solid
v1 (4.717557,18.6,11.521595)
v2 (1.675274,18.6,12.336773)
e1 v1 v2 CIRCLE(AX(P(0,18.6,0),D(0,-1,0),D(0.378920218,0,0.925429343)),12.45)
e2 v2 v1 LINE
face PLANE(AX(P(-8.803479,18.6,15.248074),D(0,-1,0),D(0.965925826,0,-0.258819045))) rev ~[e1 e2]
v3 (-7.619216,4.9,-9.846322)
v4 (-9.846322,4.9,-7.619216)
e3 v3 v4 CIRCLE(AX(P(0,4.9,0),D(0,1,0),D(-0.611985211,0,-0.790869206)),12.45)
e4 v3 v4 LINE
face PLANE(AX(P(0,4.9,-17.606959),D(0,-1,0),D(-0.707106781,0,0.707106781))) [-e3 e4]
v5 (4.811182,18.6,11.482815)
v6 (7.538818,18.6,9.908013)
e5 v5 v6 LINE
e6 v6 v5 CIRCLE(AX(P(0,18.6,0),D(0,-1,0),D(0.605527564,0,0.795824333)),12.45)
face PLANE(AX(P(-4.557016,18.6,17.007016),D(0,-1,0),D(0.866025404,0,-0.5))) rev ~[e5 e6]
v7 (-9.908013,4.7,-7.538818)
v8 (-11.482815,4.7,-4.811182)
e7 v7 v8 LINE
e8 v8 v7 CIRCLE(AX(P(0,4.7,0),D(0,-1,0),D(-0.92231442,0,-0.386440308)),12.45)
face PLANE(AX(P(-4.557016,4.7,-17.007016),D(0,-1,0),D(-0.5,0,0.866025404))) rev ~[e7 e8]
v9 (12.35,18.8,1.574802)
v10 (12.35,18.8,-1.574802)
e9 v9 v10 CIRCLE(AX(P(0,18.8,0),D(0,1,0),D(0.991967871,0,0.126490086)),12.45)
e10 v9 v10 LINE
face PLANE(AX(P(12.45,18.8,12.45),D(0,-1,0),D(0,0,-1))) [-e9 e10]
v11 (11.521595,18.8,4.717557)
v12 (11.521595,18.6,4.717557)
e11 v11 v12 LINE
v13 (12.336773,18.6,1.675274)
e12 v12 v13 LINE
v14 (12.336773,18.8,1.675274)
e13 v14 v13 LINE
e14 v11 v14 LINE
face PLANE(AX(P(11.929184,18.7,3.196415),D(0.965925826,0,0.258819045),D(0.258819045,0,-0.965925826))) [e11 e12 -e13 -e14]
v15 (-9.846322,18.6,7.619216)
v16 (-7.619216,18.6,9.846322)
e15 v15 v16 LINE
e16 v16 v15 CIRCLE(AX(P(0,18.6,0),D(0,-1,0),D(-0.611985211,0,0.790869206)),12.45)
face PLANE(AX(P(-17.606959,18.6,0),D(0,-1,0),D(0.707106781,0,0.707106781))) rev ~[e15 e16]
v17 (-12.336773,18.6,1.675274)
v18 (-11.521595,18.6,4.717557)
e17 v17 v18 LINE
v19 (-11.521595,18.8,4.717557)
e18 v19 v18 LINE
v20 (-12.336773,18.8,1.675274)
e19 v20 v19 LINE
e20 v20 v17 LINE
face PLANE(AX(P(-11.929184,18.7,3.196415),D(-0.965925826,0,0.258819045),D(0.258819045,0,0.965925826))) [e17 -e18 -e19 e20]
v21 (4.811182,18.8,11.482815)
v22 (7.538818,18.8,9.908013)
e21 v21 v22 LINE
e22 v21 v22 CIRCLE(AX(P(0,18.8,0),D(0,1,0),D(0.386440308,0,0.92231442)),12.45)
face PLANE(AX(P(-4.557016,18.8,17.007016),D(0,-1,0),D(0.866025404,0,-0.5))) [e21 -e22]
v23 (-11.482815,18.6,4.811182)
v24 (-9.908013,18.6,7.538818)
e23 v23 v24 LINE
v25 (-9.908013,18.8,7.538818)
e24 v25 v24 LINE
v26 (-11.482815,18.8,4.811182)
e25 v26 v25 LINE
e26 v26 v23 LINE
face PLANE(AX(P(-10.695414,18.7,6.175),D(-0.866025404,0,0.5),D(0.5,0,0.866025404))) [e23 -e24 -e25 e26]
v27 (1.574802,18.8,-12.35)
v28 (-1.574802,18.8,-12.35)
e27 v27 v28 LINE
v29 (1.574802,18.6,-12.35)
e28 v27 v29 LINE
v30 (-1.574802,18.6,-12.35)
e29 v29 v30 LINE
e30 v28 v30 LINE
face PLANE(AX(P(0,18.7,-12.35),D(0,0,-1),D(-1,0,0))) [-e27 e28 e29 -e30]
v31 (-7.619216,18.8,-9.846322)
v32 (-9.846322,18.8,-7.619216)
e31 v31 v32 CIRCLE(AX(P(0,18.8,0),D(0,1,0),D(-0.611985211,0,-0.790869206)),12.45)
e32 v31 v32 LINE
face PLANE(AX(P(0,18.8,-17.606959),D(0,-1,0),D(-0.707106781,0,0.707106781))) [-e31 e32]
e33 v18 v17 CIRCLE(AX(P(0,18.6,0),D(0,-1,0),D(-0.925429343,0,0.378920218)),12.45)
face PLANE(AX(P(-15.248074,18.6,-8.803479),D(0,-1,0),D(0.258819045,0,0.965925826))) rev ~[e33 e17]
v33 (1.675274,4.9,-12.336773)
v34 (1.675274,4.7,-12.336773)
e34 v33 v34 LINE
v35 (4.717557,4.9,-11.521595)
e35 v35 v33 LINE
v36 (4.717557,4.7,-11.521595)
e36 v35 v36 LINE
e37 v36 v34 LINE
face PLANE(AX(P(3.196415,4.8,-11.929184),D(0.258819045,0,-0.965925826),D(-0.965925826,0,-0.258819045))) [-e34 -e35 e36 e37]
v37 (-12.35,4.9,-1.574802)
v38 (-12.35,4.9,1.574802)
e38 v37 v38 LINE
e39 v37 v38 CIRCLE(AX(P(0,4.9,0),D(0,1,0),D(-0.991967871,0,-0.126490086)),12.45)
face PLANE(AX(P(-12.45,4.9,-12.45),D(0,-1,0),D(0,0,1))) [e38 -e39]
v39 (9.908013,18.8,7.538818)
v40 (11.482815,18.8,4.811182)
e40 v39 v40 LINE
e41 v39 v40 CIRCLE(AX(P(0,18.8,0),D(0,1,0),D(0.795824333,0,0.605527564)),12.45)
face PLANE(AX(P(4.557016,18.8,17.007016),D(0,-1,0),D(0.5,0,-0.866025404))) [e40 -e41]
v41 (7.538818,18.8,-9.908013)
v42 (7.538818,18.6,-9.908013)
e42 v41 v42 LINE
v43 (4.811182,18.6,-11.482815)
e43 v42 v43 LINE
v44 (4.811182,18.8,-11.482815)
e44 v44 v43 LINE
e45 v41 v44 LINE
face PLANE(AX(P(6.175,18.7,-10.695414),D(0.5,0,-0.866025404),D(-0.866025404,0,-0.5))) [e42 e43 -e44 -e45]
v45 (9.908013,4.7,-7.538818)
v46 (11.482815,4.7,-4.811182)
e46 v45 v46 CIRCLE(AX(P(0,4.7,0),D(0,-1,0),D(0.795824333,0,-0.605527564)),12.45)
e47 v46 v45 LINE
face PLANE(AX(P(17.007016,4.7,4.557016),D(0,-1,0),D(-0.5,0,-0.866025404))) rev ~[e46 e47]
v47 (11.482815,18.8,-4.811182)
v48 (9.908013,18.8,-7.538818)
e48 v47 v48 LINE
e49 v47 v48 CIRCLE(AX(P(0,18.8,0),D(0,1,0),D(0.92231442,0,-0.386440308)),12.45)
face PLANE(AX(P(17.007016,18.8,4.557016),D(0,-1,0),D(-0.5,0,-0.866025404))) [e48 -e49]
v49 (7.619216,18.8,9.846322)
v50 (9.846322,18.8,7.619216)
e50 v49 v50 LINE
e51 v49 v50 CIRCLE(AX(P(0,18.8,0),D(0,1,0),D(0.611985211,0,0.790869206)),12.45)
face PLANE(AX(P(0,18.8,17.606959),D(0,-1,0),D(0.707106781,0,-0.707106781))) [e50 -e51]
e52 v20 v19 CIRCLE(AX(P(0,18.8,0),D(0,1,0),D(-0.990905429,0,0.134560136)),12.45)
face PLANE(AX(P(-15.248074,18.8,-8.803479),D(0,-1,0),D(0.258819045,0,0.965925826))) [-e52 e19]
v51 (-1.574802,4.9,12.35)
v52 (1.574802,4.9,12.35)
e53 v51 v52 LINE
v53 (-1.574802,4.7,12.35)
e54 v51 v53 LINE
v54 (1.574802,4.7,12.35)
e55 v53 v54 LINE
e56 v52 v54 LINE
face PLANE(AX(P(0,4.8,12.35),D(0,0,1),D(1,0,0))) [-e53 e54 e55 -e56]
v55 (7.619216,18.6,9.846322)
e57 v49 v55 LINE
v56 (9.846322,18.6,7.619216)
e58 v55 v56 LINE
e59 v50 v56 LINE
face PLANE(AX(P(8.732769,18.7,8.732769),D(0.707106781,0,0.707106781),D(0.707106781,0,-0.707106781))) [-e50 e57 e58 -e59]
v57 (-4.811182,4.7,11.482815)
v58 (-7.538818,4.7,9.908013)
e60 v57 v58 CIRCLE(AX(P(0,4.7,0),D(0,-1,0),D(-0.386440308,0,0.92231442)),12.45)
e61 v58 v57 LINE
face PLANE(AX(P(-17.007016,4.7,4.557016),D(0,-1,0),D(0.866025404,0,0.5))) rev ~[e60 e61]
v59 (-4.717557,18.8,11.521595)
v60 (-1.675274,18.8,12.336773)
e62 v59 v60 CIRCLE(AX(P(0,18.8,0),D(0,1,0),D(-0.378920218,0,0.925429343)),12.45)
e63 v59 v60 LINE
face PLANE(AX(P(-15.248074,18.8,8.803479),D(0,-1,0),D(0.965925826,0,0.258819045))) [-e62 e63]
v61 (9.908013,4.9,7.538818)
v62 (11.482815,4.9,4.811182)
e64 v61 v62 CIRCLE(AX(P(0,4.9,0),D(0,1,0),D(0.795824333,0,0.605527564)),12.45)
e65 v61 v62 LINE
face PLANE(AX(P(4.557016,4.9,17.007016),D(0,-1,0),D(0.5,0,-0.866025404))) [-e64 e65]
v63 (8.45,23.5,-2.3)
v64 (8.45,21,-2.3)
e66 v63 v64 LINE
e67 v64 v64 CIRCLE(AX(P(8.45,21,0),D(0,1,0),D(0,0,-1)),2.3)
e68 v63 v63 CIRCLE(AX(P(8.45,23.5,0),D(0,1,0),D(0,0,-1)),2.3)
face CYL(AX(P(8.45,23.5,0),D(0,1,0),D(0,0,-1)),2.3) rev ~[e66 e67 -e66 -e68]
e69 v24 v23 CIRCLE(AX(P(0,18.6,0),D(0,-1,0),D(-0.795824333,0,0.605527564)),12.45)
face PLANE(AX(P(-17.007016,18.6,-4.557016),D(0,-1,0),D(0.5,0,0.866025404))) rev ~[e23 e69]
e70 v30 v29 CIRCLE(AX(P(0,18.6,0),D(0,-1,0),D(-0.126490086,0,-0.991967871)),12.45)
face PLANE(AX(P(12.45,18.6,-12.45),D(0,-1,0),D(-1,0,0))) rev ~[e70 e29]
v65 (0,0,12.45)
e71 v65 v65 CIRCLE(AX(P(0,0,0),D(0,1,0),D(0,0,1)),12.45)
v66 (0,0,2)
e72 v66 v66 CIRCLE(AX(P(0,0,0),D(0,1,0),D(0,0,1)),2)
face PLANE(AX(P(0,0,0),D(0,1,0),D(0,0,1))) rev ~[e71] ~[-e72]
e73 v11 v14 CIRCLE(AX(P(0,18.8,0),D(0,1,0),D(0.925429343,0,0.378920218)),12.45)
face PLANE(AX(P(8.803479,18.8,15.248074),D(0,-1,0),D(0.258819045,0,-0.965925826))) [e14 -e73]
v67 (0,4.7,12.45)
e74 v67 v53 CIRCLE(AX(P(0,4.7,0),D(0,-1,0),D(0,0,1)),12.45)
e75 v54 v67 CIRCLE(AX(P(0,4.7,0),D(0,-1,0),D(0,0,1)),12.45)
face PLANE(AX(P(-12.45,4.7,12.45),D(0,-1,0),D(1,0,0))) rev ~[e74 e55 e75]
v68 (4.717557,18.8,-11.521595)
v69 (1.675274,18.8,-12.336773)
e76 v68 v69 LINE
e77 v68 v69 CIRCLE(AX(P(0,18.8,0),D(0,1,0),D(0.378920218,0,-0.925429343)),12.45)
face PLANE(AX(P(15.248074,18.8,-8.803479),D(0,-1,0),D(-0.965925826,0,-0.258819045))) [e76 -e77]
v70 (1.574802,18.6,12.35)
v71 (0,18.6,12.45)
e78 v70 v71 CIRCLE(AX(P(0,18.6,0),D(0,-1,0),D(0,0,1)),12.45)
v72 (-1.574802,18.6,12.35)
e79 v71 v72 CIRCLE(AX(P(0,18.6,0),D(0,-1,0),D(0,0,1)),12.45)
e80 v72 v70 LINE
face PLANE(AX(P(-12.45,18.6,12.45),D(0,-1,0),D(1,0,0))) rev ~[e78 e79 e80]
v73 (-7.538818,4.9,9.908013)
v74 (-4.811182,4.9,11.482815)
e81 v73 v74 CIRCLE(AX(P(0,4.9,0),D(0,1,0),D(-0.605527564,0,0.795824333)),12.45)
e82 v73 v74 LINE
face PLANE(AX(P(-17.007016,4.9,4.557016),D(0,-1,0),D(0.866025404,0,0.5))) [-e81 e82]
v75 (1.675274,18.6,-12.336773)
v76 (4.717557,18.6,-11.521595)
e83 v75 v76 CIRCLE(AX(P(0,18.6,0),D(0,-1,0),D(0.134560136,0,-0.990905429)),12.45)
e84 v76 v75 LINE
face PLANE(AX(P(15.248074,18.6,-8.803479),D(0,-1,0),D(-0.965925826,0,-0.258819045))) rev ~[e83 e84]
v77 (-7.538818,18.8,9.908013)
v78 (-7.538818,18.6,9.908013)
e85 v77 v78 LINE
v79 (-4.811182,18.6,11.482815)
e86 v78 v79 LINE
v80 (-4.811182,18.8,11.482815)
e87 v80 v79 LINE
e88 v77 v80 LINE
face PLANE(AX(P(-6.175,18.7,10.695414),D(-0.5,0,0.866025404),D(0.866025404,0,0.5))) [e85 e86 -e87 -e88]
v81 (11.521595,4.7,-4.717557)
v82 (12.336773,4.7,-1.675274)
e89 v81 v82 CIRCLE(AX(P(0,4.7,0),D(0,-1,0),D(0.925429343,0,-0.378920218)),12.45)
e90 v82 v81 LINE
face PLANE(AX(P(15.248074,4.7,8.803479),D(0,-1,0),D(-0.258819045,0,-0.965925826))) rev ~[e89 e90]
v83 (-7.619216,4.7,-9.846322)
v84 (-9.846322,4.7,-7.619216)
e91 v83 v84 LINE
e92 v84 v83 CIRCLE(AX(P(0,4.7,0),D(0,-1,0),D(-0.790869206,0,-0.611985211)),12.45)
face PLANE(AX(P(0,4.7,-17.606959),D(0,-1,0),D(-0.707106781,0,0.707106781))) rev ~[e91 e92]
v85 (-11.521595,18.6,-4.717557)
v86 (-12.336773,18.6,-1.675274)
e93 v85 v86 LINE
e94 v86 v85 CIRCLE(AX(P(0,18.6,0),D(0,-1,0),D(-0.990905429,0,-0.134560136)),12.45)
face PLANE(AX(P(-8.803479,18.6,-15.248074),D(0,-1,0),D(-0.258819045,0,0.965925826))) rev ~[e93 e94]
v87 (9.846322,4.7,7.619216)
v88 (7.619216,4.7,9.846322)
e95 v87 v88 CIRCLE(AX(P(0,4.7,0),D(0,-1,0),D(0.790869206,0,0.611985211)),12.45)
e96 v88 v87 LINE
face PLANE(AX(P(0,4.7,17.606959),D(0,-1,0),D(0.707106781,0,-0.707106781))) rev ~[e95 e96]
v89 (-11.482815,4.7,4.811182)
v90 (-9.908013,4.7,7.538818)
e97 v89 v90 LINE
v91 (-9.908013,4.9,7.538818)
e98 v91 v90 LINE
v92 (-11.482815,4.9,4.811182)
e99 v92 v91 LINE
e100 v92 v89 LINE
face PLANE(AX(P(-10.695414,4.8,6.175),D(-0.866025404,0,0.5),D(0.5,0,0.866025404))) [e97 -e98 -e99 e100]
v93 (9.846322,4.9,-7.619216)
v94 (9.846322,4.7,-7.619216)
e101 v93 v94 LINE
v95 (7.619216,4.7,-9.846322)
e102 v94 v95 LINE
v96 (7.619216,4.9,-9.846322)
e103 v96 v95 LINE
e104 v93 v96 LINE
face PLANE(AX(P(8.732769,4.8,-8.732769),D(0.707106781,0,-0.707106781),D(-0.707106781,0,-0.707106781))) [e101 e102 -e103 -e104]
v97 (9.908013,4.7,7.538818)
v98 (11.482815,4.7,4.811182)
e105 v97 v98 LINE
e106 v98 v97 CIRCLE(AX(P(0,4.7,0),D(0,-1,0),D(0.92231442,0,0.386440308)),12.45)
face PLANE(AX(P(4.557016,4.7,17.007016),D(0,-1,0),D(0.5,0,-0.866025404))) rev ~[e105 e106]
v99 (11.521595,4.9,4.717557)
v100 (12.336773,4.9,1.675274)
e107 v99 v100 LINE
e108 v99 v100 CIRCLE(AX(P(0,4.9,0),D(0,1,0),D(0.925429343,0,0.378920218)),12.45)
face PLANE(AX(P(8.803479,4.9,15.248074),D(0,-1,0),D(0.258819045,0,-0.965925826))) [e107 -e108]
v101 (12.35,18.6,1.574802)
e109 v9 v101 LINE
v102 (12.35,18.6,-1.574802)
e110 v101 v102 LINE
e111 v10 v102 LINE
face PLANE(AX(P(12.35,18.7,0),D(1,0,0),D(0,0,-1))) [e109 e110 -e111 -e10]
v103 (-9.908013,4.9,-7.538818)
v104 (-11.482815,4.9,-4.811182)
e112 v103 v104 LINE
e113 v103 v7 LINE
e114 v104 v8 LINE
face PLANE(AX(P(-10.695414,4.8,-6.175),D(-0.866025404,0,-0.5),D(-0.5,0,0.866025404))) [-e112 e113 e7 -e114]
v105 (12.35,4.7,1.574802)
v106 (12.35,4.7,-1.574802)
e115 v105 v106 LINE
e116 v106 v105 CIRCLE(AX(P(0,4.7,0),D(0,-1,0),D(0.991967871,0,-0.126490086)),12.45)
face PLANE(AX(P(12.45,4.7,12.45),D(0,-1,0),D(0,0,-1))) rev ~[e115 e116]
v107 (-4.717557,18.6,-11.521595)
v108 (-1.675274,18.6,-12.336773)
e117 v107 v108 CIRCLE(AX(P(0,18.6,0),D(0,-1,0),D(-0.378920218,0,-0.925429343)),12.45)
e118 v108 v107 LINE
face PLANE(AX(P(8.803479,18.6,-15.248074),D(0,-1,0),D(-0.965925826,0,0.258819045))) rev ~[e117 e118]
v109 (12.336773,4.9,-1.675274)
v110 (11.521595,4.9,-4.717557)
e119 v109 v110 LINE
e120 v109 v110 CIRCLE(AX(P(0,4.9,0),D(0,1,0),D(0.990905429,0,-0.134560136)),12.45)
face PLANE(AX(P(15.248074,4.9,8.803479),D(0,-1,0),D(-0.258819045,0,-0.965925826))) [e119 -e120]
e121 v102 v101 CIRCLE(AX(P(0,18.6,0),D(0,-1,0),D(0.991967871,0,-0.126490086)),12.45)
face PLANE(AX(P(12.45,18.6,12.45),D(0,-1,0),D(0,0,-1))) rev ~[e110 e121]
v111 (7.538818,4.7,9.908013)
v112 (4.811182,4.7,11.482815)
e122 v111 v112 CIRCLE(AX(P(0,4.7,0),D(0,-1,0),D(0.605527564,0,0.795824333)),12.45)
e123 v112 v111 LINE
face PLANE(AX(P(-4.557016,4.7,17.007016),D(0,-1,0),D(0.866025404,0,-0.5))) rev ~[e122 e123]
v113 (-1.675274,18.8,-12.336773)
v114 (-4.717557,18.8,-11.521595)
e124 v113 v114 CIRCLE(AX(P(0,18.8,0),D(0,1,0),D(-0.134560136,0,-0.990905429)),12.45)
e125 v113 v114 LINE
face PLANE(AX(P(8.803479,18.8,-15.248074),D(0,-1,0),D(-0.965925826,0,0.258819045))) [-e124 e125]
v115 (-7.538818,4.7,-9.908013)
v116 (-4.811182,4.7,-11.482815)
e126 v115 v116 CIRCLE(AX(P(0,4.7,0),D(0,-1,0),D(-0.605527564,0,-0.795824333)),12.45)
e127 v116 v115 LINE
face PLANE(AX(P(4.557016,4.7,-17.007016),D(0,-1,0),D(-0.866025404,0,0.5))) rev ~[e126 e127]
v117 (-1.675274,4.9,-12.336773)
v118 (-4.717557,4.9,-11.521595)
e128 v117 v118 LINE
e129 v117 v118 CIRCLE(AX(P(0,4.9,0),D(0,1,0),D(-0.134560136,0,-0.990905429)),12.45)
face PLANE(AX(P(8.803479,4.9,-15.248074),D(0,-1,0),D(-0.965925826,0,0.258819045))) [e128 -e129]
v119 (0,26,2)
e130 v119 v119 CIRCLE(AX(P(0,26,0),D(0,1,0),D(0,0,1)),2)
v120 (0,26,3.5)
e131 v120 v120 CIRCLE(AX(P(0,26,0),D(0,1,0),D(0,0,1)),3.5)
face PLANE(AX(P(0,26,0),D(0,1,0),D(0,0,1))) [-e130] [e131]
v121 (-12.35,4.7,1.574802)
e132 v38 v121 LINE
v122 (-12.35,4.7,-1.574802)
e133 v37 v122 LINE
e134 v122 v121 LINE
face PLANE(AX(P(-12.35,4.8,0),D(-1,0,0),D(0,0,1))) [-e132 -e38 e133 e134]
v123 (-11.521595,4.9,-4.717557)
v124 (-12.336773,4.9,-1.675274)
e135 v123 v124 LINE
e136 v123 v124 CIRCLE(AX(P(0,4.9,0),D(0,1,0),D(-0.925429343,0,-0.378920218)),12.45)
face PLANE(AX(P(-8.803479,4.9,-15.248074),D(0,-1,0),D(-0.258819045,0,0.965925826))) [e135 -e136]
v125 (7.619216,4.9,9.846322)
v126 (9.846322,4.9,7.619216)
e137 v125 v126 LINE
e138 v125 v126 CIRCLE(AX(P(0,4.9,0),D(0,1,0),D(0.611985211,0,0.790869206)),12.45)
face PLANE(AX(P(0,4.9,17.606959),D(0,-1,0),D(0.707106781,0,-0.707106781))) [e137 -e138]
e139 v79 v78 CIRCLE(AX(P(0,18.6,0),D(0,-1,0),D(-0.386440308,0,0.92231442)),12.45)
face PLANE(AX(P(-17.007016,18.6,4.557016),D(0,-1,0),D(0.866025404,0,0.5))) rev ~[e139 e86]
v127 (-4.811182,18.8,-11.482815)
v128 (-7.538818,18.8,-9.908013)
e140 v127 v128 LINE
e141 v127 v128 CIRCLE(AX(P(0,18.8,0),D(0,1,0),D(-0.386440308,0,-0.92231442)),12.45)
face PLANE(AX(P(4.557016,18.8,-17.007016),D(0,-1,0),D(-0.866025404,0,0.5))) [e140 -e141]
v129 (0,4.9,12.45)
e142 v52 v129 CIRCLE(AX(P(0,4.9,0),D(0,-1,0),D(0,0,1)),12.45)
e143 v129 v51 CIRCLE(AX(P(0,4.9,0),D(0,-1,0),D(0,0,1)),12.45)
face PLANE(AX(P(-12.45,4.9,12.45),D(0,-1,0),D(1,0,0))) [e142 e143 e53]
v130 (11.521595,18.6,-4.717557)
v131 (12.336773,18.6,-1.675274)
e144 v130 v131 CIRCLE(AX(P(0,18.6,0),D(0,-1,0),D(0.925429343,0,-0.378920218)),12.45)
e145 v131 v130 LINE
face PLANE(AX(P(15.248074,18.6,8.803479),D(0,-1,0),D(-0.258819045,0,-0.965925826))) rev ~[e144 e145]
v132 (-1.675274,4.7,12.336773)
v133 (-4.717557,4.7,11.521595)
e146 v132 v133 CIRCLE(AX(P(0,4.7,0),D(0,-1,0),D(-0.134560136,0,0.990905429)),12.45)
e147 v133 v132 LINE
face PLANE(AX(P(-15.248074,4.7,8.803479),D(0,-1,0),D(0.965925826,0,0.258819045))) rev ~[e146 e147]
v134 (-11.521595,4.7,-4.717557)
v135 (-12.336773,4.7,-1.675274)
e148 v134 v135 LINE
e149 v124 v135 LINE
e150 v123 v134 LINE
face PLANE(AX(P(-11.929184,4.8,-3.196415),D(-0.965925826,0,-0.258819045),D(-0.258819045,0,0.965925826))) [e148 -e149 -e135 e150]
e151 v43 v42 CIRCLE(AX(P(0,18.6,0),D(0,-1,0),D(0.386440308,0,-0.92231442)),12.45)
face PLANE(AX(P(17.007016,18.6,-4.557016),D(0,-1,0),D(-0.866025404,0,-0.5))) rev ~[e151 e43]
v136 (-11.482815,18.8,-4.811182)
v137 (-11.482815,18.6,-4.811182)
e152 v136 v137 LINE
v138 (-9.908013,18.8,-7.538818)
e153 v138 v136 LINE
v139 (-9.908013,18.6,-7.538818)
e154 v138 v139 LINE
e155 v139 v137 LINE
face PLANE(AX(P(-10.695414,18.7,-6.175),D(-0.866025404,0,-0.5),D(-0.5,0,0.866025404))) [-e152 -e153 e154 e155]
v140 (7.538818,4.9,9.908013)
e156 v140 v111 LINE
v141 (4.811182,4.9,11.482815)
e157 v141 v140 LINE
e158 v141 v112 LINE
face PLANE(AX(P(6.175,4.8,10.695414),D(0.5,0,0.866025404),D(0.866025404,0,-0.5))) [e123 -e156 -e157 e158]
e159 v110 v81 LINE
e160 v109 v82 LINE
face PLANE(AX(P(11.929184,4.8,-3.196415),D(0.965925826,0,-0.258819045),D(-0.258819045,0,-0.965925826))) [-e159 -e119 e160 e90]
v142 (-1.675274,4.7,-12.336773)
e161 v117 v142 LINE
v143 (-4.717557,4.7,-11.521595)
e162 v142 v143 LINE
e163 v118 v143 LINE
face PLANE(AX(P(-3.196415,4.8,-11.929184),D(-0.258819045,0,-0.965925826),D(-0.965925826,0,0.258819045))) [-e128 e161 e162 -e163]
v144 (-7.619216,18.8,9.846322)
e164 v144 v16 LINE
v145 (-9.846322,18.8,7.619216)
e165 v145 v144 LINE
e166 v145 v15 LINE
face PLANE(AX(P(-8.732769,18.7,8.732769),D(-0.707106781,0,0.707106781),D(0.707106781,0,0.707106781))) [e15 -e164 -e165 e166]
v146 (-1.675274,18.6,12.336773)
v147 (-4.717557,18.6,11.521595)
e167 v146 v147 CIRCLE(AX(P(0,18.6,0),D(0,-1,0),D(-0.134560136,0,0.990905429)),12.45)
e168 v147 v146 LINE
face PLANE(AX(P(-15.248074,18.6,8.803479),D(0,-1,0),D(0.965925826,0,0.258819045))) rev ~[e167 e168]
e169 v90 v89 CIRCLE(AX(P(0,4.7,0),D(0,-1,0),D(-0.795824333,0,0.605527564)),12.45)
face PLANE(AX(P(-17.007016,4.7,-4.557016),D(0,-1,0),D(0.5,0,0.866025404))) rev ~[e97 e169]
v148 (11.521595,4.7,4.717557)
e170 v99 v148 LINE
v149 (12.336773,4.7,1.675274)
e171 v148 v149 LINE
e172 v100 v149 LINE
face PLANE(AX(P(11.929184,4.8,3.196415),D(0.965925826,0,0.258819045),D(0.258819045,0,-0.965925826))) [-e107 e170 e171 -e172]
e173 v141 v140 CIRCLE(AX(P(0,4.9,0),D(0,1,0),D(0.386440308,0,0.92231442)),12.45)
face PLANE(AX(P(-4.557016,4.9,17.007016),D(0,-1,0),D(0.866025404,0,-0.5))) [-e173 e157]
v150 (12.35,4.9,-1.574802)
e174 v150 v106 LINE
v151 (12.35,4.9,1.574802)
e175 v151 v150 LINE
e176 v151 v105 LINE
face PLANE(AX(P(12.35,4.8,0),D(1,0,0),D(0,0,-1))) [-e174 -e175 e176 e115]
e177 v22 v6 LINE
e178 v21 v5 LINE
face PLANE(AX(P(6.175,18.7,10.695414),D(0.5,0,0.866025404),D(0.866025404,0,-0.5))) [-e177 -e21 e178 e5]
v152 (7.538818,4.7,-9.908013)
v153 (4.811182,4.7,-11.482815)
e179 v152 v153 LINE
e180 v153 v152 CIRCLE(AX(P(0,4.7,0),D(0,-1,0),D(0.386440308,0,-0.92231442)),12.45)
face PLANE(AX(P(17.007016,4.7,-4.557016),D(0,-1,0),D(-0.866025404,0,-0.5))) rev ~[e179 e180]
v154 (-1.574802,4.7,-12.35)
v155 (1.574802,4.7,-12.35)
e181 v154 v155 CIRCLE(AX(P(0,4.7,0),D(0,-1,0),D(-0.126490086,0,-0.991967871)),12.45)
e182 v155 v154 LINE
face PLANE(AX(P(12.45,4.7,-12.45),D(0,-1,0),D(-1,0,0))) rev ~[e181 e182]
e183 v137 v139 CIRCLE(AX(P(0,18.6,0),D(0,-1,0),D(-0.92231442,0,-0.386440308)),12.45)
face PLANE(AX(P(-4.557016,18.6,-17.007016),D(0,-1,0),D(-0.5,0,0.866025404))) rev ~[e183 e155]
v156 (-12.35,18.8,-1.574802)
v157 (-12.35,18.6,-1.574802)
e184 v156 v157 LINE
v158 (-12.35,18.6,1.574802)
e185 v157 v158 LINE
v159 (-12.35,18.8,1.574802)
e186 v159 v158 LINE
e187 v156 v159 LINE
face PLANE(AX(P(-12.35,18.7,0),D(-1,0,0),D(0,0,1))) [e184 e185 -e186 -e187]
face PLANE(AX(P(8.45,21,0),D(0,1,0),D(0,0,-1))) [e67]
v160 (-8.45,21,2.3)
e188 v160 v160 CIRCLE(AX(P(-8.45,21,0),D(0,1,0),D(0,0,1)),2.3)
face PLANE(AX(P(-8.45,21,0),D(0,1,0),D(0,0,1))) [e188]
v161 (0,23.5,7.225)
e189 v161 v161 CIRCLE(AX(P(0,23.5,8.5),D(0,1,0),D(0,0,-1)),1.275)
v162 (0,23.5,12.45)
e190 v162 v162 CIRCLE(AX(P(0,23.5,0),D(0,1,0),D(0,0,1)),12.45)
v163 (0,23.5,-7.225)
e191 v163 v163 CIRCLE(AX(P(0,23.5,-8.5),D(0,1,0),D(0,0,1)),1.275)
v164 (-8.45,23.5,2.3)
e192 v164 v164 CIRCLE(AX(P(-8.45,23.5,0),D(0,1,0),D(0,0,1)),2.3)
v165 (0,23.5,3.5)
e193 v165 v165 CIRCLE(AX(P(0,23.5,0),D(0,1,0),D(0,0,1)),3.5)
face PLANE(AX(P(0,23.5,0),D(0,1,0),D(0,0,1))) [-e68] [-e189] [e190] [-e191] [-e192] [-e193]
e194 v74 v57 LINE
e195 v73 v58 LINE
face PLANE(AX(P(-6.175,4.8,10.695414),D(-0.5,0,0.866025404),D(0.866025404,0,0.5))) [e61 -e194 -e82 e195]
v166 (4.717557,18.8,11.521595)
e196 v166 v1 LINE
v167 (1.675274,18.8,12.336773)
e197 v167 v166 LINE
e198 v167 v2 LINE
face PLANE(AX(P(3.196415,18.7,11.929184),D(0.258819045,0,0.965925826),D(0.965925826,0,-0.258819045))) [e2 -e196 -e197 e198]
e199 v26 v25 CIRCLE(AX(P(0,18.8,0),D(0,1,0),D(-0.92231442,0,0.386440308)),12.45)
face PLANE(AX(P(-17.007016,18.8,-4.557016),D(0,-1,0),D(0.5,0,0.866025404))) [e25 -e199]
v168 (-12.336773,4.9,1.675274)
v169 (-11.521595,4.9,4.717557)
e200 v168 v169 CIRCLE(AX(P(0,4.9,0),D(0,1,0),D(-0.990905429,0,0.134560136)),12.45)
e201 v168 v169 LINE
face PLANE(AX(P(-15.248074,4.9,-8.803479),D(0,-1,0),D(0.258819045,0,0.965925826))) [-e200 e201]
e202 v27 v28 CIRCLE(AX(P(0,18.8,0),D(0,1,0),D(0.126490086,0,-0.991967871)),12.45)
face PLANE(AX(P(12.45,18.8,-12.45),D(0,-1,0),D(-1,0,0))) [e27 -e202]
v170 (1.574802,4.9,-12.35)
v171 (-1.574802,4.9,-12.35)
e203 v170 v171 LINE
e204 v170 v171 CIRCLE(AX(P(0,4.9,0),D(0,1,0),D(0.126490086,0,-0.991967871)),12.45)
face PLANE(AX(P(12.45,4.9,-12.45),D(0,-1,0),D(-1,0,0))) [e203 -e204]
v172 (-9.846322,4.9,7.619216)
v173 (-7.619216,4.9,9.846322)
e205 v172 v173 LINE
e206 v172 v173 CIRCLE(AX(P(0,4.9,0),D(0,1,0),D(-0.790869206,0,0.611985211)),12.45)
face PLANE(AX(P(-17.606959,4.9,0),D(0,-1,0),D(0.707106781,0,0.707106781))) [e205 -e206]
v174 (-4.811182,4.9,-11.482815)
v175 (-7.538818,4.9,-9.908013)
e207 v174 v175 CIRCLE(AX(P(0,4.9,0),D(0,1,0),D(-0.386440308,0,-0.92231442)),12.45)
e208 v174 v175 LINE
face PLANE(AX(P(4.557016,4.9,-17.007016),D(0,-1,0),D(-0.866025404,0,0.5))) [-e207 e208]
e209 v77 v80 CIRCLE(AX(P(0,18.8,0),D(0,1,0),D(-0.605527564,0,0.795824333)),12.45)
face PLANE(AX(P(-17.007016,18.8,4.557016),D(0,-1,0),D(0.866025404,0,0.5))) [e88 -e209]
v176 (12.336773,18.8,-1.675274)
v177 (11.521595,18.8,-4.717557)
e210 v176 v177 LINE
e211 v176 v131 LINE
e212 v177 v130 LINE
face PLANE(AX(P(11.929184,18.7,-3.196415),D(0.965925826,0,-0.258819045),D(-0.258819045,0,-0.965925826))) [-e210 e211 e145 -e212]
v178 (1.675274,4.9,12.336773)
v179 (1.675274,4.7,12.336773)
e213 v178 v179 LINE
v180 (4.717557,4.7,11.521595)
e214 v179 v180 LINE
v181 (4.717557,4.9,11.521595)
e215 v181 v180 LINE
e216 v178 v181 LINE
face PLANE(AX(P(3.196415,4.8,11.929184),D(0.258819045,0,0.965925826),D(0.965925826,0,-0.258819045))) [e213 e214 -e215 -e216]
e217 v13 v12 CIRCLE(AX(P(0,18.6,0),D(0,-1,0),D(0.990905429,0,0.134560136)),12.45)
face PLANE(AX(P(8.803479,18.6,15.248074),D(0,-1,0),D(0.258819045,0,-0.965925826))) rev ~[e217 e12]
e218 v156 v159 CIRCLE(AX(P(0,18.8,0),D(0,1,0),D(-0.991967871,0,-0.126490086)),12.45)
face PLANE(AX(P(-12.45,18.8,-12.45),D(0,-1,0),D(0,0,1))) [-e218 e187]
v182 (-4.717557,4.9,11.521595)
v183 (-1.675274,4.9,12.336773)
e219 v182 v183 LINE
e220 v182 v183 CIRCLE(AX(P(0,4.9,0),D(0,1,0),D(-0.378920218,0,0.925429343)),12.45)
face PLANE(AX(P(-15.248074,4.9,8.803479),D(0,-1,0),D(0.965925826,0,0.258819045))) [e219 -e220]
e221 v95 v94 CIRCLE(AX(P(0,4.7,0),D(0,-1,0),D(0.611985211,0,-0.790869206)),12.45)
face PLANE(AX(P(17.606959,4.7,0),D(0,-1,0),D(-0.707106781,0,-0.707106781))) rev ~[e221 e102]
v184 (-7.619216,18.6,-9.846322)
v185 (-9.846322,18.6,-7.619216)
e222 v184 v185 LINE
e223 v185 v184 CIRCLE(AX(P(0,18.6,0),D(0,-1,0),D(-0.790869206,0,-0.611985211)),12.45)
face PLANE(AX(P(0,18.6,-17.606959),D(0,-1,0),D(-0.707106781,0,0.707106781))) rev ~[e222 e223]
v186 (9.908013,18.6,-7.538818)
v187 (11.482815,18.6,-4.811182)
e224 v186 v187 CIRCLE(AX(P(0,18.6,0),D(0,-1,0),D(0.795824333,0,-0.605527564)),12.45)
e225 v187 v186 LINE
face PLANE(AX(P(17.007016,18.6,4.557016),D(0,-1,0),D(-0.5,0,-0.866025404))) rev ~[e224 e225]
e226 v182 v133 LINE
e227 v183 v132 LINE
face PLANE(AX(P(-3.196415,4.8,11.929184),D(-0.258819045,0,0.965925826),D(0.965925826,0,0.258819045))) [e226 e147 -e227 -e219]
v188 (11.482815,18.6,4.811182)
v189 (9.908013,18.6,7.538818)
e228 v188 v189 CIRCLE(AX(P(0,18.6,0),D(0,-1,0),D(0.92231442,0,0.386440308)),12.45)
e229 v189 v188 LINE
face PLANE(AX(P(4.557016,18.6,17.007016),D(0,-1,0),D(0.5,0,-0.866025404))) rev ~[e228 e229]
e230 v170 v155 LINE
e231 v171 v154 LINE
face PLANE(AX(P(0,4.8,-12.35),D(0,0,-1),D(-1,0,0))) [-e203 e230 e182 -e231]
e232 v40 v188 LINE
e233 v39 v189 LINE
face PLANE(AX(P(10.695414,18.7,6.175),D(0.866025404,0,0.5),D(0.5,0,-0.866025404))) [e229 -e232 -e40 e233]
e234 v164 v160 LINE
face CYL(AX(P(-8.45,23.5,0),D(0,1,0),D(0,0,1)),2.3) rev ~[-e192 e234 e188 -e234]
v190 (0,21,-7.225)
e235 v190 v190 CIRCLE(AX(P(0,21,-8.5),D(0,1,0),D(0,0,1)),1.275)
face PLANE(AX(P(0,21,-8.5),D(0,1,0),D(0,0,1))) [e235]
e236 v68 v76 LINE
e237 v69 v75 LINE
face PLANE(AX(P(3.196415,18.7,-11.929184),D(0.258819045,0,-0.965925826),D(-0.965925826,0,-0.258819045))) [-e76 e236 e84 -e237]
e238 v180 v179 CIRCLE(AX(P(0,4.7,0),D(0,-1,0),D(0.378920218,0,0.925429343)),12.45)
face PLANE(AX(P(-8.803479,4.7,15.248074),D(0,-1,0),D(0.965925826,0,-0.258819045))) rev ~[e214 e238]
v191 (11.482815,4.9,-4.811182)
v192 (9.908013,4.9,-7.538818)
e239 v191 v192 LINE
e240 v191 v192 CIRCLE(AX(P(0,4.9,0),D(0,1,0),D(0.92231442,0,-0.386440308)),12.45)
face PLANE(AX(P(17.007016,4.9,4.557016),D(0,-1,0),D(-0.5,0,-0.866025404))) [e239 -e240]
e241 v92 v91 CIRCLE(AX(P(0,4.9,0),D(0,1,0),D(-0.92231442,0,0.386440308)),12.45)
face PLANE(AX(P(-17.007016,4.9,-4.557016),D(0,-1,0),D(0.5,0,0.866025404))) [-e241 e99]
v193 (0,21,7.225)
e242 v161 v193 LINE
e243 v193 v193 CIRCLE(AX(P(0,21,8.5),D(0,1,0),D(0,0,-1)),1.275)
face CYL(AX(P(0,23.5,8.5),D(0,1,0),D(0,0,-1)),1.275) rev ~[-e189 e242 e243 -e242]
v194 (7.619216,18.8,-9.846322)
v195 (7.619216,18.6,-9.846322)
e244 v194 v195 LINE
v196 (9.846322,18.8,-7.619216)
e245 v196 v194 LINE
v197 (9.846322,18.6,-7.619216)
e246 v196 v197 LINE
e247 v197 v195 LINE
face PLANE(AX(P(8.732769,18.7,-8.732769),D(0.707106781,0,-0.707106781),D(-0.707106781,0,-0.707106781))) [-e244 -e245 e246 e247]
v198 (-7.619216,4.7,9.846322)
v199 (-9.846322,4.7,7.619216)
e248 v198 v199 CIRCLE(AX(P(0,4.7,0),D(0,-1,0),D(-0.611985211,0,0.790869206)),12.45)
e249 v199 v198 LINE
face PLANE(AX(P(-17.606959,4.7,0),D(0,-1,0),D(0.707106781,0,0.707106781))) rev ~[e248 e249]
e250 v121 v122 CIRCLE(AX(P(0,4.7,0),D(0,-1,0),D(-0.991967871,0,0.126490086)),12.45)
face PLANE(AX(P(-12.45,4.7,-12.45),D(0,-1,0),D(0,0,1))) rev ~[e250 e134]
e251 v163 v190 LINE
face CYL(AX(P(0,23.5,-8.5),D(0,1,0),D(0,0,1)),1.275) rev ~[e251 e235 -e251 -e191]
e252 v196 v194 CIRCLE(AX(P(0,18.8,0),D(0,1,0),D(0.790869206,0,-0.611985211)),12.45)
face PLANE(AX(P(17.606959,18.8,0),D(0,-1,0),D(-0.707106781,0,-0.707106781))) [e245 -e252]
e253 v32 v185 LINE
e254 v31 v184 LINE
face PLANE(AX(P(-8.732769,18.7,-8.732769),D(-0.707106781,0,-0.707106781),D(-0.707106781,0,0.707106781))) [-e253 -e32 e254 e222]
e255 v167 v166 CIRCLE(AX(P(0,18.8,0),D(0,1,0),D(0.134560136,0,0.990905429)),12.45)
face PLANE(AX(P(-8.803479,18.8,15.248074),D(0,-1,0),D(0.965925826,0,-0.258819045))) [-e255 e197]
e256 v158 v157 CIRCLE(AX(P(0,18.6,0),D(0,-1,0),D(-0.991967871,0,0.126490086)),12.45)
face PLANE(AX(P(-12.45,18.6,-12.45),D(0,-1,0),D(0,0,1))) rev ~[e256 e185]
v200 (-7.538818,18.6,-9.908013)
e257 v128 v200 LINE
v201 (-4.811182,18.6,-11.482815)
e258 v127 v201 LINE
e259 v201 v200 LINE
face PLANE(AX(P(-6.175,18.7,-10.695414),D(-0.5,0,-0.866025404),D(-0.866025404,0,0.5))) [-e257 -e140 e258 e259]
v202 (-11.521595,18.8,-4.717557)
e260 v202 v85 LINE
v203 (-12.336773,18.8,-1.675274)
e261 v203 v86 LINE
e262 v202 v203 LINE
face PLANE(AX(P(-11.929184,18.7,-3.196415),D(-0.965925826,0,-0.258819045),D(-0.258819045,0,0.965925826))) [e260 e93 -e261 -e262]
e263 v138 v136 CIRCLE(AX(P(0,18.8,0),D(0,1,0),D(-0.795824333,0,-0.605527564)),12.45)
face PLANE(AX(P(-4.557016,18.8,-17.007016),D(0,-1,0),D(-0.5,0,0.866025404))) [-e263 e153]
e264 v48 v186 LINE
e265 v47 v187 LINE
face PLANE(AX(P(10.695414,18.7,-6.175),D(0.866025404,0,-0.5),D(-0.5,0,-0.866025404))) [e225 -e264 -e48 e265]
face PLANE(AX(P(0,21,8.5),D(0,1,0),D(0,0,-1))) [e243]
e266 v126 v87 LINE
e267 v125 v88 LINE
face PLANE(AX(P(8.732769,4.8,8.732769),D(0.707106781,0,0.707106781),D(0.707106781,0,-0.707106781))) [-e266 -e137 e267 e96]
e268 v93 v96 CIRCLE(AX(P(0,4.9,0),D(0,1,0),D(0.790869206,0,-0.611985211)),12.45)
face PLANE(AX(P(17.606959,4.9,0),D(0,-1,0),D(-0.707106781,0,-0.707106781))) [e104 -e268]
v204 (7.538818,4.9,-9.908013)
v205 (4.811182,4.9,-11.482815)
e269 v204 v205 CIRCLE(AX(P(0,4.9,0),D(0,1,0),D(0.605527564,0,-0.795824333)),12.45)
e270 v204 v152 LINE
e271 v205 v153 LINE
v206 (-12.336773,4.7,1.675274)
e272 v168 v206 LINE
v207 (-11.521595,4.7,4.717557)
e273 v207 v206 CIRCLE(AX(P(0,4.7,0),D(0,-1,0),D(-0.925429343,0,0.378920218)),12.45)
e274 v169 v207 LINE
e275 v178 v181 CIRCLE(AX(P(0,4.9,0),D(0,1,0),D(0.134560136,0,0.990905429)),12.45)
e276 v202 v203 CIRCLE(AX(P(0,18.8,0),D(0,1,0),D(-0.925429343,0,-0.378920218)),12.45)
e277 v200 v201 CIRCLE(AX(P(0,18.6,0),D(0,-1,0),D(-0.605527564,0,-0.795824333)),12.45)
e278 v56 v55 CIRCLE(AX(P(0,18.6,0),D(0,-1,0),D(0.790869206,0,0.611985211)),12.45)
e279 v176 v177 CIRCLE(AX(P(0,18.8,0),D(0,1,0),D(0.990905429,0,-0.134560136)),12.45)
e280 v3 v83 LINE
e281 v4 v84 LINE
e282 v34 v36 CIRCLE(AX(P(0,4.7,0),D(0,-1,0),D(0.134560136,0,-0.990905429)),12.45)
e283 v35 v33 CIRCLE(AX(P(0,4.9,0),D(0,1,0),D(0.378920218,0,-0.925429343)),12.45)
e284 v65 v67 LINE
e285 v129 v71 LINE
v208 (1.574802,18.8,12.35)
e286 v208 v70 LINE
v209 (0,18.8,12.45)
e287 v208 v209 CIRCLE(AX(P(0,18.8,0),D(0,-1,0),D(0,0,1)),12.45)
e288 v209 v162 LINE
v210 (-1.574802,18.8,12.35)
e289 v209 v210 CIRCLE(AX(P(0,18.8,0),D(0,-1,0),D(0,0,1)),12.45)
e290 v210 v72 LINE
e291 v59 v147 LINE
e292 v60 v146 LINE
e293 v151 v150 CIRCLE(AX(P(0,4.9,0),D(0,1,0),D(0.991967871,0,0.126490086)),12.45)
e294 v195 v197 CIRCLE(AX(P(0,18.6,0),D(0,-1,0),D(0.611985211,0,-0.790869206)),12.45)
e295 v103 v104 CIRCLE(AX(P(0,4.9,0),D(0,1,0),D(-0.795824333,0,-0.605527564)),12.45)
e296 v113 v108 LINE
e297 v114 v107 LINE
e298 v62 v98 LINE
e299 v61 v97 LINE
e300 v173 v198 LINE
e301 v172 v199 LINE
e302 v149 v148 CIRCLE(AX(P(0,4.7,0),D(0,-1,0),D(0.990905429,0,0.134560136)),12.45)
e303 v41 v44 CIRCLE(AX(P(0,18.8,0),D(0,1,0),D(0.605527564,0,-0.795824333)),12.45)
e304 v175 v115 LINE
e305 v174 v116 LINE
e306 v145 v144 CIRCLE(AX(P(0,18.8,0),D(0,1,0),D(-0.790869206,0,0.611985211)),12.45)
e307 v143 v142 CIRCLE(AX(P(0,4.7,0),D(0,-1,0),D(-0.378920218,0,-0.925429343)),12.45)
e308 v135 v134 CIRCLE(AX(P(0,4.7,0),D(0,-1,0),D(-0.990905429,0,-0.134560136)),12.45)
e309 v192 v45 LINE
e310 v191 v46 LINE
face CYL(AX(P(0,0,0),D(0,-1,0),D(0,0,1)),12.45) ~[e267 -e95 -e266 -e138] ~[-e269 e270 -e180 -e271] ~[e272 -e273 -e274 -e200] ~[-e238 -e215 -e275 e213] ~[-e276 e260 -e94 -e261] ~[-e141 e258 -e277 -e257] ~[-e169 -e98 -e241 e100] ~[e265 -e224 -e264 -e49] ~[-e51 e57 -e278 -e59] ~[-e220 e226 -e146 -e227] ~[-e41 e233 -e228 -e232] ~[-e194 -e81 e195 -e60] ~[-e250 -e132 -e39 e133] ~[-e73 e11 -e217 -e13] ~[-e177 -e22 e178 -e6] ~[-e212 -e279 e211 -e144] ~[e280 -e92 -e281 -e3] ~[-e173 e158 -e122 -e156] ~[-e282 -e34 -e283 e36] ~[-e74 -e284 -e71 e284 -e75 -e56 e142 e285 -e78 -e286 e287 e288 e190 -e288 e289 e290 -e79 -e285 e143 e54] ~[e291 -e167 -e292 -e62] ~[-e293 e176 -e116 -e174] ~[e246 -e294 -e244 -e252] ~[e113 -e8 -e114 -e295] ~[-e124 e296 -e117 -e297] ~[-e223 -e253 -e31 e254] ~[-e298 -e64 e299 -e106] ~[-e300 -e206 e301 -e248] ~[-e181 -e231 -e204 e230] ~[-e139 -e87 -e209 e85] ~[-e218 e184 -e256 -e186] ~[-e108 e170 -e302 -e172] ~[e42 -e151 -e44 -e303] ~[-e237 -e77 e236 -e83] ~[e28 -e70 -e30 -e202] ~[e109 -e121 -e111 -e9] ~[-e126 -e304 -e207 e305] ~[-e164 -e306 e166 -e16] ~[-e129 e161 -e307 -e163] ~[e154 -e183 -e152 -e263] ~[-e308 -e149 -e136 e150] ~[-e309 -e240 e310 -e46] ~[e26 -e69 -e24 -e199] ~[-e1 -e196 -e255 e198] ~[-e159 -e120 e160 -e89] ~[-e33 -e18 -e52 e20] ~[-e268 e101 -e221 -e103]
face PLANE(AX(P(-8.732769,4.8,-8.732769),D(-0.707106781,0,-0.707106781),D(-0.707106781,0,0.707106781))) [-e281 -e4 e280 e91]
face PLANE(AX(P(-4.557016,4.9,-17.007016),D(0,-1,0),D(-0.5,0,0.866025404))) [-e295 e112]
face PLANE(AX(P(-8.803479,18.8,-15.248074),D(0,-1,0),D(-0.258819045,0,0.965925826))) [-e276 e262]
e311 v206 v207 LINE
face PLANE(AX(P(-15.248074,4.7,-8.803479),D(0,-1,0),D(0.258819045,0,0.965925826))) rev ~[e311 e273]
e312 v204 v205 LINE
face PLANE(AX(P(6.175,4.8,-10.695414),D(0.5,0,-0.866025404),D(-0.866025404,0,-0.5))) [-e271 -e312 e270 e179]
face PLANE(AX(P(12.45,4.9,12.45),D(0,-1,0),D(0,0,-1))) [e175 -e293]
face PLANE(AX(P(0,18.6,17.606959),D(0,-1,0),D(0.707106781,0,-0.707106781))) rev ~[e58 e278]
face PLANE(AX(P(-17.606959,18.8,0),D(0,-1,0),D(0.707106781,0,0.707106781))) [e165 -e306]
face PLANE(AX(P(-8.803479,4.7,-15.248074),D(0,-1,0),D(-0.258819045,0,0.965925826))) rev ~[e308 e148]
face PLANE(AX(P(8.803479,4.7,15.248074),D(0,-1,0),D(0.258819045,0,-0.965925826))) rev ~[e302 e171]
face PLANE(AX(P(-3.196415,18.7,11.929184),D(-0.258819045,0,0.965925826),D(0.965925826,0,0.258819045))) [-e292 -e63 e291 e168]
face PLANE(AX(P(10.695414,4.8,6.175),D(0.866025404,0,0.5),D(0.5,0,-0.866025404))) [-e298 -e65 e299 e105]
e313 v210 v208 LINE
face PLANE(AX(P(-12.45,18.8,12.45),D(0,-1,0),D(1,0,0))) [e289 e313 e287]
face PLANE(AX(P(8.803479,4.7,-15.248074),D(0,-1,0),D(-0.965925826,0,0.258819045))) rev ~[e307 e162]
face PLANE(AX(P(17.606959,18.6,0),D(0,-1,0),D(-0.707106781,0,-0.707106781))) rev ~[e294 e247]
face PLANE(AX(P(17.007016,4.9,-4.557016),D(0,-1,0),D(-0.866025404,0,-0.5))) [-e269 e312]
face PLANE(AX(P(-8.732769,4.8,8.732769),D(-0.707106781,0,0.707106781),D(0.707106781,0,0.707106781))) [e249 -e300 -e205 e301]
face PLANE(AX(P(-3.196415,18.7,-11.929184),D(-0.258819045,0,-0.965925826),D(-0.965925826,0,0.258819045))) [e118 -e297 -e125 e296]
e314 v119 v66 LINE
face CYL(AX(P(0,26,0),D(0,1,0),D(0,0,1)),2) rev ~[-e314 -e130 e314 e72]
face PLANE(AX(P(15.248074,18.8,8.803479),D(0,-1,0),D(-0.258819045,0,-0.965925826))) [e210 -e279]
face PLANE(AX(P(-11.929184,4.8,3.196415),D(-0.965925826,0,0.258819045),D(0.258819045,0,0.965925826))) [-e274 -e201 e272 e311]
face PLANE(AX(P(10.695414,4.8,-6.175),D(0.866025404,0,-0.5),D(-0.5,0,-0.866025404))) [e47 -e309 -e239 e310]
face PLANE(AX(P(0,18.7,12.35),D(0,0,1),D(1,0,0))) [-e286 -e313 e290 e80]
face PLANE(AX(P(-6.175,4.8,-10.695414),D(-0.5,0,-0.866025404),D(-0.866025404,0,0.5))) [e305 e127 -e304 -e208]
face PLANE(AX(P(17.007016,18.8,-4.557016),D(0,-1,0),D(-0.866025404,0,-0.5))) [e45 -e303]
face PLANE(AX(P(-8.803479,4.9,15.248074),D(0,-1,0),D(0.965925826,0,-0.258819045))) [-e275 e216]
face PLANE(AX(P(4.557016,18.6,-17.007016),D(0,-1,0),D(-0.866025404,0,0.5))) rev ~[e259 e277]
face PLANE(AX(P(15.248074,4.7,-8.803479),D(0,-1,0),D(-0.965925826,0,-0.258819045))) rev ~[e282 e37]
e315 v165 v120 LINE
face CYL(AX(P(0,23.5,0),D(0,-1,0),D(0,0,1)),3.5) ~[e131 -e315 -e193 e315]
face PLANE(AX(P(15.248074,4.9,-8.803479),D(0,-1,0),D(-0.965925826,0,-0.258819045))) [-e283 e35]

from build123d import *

# Parameters (mm, degrees)
CROQUIS1_R              = 12.45
SALIENTE_EXTRUIR1_DEPTH = 23.5
CROQUIS2_W              = 24.9
CROQUIS2_H              = 0.2
CORTAR_EXTRUIR1_DEPTH   = 0.1
MATRIZC1_COUNT          = 24
CROQUIS5_R              = 3.5
SALIENTE_EXTRUIR2_DEPTH = 2.5
CROQUIS6_R              = 2
CORTAR_EXTRUIR3_DEPTH   = 32.400716552
CROQUIS7_R              = 1.275
CROQUIS7_R_2            = 2.3
CORTAR_EXTRUIR4_DEPTH   = 2.5


with BuildPart() as part:
    # Croquis1 → Saliente-Extruir1 (new body)
    with BuildSketch(Plane(origin=(0, 0, 0), x_dir=(1, 0, 0), z_dir=(0, 1, 0))):
        with Locations(Location((0, 0, 0), (0, 0, 270))):
            Circle(CROQUIS1_R)
    extrude(amount=SALIENTE_EXTRUIR1_DEPTH)

    # Croquis2 → Cortar-Extruir1 (cut)
    with BuildSketch(Plane.XY.offset(12.45)):
        with Locations((0, 18.7)):
            Rectangle(CROQUIS2_W, CROQUIS2_H)
        with Locations((0, 4.8)):
            Rectangle(CROQUIS2_W, CROQUIS2_H)
    cortar_extruir1 = extrude(amount=-CORTAR_EXTRUIR1_DEPTH, mode=Mode.SUBTRACT)

    # MatrizC1: Cortar-Extruir1 ×24 about axis
    matrizc1_axis = Axis((0, 0, 0), (0, 1, 0))
    for i in range(1, MATRIZC1_COUNT):
        add(cortar_extruir1.rotate(matrizc1_axis, i * 360 / MATRIZC1_COUNT), mode=Mode.SUBTRACT)

    # Croquis5 → Saliente-Extruir2 (add)
    with BuildSketch(Plane(origin=(0, 23.5, 0), x_dir=(1, 0, 0), z_dir=(0, 1, 0))):
        with Locations(Location((0, 0, 0), (0, 0, 270))):
            Circle(CROQUIS5_R)
    extrude(amount=SALIENTE_EXTRUIR2_DEPTH)

    # Croquis6 → Cortar-Extruir3 (cut, through all)
    with BuildSketch(Plane(origin=(0, 26, 0), x_dir=(1, 0, 0), z_dir=(0, 1, 0))):
        with Locations(Location((0, 0, 0), (0, 0, 270))):
            Circle(CROQUIS6_R)
    extrude(amount=-CORTAR_EXTRUIR3_DEPTH, mode=Mode.SUBTRACT)

    # Croquis7 → Cortar-Extruir4 (cut)
    with BuildSketch(Plane(origin=(0, 23.5, 0), x_dir=(1, 0, 0), z_dir=(0, 1, 0))):
        with Locations(Location((0, 8.5, 0), (0, 0, 270))):
            Circle(CROQUIS7_R)
        with Locations(Location((0, -8.5, 0), (0, 0, 90))):
            Circle(CROQUIS7_R)
        with Locations(Location((-8.45, 0, 0), (0, 0, 270))):
            Circle(CROQUIS7_R_2)
        with Locations(Location((8.45, 0, 0), (0, 0, 90))):
            Circle(CROQUIS7_R_2)
    extrude(amount=-CORTAR_EXTRUIR4_DEPTH, mode=Mode.SUBTRACT)


solid = part.part
